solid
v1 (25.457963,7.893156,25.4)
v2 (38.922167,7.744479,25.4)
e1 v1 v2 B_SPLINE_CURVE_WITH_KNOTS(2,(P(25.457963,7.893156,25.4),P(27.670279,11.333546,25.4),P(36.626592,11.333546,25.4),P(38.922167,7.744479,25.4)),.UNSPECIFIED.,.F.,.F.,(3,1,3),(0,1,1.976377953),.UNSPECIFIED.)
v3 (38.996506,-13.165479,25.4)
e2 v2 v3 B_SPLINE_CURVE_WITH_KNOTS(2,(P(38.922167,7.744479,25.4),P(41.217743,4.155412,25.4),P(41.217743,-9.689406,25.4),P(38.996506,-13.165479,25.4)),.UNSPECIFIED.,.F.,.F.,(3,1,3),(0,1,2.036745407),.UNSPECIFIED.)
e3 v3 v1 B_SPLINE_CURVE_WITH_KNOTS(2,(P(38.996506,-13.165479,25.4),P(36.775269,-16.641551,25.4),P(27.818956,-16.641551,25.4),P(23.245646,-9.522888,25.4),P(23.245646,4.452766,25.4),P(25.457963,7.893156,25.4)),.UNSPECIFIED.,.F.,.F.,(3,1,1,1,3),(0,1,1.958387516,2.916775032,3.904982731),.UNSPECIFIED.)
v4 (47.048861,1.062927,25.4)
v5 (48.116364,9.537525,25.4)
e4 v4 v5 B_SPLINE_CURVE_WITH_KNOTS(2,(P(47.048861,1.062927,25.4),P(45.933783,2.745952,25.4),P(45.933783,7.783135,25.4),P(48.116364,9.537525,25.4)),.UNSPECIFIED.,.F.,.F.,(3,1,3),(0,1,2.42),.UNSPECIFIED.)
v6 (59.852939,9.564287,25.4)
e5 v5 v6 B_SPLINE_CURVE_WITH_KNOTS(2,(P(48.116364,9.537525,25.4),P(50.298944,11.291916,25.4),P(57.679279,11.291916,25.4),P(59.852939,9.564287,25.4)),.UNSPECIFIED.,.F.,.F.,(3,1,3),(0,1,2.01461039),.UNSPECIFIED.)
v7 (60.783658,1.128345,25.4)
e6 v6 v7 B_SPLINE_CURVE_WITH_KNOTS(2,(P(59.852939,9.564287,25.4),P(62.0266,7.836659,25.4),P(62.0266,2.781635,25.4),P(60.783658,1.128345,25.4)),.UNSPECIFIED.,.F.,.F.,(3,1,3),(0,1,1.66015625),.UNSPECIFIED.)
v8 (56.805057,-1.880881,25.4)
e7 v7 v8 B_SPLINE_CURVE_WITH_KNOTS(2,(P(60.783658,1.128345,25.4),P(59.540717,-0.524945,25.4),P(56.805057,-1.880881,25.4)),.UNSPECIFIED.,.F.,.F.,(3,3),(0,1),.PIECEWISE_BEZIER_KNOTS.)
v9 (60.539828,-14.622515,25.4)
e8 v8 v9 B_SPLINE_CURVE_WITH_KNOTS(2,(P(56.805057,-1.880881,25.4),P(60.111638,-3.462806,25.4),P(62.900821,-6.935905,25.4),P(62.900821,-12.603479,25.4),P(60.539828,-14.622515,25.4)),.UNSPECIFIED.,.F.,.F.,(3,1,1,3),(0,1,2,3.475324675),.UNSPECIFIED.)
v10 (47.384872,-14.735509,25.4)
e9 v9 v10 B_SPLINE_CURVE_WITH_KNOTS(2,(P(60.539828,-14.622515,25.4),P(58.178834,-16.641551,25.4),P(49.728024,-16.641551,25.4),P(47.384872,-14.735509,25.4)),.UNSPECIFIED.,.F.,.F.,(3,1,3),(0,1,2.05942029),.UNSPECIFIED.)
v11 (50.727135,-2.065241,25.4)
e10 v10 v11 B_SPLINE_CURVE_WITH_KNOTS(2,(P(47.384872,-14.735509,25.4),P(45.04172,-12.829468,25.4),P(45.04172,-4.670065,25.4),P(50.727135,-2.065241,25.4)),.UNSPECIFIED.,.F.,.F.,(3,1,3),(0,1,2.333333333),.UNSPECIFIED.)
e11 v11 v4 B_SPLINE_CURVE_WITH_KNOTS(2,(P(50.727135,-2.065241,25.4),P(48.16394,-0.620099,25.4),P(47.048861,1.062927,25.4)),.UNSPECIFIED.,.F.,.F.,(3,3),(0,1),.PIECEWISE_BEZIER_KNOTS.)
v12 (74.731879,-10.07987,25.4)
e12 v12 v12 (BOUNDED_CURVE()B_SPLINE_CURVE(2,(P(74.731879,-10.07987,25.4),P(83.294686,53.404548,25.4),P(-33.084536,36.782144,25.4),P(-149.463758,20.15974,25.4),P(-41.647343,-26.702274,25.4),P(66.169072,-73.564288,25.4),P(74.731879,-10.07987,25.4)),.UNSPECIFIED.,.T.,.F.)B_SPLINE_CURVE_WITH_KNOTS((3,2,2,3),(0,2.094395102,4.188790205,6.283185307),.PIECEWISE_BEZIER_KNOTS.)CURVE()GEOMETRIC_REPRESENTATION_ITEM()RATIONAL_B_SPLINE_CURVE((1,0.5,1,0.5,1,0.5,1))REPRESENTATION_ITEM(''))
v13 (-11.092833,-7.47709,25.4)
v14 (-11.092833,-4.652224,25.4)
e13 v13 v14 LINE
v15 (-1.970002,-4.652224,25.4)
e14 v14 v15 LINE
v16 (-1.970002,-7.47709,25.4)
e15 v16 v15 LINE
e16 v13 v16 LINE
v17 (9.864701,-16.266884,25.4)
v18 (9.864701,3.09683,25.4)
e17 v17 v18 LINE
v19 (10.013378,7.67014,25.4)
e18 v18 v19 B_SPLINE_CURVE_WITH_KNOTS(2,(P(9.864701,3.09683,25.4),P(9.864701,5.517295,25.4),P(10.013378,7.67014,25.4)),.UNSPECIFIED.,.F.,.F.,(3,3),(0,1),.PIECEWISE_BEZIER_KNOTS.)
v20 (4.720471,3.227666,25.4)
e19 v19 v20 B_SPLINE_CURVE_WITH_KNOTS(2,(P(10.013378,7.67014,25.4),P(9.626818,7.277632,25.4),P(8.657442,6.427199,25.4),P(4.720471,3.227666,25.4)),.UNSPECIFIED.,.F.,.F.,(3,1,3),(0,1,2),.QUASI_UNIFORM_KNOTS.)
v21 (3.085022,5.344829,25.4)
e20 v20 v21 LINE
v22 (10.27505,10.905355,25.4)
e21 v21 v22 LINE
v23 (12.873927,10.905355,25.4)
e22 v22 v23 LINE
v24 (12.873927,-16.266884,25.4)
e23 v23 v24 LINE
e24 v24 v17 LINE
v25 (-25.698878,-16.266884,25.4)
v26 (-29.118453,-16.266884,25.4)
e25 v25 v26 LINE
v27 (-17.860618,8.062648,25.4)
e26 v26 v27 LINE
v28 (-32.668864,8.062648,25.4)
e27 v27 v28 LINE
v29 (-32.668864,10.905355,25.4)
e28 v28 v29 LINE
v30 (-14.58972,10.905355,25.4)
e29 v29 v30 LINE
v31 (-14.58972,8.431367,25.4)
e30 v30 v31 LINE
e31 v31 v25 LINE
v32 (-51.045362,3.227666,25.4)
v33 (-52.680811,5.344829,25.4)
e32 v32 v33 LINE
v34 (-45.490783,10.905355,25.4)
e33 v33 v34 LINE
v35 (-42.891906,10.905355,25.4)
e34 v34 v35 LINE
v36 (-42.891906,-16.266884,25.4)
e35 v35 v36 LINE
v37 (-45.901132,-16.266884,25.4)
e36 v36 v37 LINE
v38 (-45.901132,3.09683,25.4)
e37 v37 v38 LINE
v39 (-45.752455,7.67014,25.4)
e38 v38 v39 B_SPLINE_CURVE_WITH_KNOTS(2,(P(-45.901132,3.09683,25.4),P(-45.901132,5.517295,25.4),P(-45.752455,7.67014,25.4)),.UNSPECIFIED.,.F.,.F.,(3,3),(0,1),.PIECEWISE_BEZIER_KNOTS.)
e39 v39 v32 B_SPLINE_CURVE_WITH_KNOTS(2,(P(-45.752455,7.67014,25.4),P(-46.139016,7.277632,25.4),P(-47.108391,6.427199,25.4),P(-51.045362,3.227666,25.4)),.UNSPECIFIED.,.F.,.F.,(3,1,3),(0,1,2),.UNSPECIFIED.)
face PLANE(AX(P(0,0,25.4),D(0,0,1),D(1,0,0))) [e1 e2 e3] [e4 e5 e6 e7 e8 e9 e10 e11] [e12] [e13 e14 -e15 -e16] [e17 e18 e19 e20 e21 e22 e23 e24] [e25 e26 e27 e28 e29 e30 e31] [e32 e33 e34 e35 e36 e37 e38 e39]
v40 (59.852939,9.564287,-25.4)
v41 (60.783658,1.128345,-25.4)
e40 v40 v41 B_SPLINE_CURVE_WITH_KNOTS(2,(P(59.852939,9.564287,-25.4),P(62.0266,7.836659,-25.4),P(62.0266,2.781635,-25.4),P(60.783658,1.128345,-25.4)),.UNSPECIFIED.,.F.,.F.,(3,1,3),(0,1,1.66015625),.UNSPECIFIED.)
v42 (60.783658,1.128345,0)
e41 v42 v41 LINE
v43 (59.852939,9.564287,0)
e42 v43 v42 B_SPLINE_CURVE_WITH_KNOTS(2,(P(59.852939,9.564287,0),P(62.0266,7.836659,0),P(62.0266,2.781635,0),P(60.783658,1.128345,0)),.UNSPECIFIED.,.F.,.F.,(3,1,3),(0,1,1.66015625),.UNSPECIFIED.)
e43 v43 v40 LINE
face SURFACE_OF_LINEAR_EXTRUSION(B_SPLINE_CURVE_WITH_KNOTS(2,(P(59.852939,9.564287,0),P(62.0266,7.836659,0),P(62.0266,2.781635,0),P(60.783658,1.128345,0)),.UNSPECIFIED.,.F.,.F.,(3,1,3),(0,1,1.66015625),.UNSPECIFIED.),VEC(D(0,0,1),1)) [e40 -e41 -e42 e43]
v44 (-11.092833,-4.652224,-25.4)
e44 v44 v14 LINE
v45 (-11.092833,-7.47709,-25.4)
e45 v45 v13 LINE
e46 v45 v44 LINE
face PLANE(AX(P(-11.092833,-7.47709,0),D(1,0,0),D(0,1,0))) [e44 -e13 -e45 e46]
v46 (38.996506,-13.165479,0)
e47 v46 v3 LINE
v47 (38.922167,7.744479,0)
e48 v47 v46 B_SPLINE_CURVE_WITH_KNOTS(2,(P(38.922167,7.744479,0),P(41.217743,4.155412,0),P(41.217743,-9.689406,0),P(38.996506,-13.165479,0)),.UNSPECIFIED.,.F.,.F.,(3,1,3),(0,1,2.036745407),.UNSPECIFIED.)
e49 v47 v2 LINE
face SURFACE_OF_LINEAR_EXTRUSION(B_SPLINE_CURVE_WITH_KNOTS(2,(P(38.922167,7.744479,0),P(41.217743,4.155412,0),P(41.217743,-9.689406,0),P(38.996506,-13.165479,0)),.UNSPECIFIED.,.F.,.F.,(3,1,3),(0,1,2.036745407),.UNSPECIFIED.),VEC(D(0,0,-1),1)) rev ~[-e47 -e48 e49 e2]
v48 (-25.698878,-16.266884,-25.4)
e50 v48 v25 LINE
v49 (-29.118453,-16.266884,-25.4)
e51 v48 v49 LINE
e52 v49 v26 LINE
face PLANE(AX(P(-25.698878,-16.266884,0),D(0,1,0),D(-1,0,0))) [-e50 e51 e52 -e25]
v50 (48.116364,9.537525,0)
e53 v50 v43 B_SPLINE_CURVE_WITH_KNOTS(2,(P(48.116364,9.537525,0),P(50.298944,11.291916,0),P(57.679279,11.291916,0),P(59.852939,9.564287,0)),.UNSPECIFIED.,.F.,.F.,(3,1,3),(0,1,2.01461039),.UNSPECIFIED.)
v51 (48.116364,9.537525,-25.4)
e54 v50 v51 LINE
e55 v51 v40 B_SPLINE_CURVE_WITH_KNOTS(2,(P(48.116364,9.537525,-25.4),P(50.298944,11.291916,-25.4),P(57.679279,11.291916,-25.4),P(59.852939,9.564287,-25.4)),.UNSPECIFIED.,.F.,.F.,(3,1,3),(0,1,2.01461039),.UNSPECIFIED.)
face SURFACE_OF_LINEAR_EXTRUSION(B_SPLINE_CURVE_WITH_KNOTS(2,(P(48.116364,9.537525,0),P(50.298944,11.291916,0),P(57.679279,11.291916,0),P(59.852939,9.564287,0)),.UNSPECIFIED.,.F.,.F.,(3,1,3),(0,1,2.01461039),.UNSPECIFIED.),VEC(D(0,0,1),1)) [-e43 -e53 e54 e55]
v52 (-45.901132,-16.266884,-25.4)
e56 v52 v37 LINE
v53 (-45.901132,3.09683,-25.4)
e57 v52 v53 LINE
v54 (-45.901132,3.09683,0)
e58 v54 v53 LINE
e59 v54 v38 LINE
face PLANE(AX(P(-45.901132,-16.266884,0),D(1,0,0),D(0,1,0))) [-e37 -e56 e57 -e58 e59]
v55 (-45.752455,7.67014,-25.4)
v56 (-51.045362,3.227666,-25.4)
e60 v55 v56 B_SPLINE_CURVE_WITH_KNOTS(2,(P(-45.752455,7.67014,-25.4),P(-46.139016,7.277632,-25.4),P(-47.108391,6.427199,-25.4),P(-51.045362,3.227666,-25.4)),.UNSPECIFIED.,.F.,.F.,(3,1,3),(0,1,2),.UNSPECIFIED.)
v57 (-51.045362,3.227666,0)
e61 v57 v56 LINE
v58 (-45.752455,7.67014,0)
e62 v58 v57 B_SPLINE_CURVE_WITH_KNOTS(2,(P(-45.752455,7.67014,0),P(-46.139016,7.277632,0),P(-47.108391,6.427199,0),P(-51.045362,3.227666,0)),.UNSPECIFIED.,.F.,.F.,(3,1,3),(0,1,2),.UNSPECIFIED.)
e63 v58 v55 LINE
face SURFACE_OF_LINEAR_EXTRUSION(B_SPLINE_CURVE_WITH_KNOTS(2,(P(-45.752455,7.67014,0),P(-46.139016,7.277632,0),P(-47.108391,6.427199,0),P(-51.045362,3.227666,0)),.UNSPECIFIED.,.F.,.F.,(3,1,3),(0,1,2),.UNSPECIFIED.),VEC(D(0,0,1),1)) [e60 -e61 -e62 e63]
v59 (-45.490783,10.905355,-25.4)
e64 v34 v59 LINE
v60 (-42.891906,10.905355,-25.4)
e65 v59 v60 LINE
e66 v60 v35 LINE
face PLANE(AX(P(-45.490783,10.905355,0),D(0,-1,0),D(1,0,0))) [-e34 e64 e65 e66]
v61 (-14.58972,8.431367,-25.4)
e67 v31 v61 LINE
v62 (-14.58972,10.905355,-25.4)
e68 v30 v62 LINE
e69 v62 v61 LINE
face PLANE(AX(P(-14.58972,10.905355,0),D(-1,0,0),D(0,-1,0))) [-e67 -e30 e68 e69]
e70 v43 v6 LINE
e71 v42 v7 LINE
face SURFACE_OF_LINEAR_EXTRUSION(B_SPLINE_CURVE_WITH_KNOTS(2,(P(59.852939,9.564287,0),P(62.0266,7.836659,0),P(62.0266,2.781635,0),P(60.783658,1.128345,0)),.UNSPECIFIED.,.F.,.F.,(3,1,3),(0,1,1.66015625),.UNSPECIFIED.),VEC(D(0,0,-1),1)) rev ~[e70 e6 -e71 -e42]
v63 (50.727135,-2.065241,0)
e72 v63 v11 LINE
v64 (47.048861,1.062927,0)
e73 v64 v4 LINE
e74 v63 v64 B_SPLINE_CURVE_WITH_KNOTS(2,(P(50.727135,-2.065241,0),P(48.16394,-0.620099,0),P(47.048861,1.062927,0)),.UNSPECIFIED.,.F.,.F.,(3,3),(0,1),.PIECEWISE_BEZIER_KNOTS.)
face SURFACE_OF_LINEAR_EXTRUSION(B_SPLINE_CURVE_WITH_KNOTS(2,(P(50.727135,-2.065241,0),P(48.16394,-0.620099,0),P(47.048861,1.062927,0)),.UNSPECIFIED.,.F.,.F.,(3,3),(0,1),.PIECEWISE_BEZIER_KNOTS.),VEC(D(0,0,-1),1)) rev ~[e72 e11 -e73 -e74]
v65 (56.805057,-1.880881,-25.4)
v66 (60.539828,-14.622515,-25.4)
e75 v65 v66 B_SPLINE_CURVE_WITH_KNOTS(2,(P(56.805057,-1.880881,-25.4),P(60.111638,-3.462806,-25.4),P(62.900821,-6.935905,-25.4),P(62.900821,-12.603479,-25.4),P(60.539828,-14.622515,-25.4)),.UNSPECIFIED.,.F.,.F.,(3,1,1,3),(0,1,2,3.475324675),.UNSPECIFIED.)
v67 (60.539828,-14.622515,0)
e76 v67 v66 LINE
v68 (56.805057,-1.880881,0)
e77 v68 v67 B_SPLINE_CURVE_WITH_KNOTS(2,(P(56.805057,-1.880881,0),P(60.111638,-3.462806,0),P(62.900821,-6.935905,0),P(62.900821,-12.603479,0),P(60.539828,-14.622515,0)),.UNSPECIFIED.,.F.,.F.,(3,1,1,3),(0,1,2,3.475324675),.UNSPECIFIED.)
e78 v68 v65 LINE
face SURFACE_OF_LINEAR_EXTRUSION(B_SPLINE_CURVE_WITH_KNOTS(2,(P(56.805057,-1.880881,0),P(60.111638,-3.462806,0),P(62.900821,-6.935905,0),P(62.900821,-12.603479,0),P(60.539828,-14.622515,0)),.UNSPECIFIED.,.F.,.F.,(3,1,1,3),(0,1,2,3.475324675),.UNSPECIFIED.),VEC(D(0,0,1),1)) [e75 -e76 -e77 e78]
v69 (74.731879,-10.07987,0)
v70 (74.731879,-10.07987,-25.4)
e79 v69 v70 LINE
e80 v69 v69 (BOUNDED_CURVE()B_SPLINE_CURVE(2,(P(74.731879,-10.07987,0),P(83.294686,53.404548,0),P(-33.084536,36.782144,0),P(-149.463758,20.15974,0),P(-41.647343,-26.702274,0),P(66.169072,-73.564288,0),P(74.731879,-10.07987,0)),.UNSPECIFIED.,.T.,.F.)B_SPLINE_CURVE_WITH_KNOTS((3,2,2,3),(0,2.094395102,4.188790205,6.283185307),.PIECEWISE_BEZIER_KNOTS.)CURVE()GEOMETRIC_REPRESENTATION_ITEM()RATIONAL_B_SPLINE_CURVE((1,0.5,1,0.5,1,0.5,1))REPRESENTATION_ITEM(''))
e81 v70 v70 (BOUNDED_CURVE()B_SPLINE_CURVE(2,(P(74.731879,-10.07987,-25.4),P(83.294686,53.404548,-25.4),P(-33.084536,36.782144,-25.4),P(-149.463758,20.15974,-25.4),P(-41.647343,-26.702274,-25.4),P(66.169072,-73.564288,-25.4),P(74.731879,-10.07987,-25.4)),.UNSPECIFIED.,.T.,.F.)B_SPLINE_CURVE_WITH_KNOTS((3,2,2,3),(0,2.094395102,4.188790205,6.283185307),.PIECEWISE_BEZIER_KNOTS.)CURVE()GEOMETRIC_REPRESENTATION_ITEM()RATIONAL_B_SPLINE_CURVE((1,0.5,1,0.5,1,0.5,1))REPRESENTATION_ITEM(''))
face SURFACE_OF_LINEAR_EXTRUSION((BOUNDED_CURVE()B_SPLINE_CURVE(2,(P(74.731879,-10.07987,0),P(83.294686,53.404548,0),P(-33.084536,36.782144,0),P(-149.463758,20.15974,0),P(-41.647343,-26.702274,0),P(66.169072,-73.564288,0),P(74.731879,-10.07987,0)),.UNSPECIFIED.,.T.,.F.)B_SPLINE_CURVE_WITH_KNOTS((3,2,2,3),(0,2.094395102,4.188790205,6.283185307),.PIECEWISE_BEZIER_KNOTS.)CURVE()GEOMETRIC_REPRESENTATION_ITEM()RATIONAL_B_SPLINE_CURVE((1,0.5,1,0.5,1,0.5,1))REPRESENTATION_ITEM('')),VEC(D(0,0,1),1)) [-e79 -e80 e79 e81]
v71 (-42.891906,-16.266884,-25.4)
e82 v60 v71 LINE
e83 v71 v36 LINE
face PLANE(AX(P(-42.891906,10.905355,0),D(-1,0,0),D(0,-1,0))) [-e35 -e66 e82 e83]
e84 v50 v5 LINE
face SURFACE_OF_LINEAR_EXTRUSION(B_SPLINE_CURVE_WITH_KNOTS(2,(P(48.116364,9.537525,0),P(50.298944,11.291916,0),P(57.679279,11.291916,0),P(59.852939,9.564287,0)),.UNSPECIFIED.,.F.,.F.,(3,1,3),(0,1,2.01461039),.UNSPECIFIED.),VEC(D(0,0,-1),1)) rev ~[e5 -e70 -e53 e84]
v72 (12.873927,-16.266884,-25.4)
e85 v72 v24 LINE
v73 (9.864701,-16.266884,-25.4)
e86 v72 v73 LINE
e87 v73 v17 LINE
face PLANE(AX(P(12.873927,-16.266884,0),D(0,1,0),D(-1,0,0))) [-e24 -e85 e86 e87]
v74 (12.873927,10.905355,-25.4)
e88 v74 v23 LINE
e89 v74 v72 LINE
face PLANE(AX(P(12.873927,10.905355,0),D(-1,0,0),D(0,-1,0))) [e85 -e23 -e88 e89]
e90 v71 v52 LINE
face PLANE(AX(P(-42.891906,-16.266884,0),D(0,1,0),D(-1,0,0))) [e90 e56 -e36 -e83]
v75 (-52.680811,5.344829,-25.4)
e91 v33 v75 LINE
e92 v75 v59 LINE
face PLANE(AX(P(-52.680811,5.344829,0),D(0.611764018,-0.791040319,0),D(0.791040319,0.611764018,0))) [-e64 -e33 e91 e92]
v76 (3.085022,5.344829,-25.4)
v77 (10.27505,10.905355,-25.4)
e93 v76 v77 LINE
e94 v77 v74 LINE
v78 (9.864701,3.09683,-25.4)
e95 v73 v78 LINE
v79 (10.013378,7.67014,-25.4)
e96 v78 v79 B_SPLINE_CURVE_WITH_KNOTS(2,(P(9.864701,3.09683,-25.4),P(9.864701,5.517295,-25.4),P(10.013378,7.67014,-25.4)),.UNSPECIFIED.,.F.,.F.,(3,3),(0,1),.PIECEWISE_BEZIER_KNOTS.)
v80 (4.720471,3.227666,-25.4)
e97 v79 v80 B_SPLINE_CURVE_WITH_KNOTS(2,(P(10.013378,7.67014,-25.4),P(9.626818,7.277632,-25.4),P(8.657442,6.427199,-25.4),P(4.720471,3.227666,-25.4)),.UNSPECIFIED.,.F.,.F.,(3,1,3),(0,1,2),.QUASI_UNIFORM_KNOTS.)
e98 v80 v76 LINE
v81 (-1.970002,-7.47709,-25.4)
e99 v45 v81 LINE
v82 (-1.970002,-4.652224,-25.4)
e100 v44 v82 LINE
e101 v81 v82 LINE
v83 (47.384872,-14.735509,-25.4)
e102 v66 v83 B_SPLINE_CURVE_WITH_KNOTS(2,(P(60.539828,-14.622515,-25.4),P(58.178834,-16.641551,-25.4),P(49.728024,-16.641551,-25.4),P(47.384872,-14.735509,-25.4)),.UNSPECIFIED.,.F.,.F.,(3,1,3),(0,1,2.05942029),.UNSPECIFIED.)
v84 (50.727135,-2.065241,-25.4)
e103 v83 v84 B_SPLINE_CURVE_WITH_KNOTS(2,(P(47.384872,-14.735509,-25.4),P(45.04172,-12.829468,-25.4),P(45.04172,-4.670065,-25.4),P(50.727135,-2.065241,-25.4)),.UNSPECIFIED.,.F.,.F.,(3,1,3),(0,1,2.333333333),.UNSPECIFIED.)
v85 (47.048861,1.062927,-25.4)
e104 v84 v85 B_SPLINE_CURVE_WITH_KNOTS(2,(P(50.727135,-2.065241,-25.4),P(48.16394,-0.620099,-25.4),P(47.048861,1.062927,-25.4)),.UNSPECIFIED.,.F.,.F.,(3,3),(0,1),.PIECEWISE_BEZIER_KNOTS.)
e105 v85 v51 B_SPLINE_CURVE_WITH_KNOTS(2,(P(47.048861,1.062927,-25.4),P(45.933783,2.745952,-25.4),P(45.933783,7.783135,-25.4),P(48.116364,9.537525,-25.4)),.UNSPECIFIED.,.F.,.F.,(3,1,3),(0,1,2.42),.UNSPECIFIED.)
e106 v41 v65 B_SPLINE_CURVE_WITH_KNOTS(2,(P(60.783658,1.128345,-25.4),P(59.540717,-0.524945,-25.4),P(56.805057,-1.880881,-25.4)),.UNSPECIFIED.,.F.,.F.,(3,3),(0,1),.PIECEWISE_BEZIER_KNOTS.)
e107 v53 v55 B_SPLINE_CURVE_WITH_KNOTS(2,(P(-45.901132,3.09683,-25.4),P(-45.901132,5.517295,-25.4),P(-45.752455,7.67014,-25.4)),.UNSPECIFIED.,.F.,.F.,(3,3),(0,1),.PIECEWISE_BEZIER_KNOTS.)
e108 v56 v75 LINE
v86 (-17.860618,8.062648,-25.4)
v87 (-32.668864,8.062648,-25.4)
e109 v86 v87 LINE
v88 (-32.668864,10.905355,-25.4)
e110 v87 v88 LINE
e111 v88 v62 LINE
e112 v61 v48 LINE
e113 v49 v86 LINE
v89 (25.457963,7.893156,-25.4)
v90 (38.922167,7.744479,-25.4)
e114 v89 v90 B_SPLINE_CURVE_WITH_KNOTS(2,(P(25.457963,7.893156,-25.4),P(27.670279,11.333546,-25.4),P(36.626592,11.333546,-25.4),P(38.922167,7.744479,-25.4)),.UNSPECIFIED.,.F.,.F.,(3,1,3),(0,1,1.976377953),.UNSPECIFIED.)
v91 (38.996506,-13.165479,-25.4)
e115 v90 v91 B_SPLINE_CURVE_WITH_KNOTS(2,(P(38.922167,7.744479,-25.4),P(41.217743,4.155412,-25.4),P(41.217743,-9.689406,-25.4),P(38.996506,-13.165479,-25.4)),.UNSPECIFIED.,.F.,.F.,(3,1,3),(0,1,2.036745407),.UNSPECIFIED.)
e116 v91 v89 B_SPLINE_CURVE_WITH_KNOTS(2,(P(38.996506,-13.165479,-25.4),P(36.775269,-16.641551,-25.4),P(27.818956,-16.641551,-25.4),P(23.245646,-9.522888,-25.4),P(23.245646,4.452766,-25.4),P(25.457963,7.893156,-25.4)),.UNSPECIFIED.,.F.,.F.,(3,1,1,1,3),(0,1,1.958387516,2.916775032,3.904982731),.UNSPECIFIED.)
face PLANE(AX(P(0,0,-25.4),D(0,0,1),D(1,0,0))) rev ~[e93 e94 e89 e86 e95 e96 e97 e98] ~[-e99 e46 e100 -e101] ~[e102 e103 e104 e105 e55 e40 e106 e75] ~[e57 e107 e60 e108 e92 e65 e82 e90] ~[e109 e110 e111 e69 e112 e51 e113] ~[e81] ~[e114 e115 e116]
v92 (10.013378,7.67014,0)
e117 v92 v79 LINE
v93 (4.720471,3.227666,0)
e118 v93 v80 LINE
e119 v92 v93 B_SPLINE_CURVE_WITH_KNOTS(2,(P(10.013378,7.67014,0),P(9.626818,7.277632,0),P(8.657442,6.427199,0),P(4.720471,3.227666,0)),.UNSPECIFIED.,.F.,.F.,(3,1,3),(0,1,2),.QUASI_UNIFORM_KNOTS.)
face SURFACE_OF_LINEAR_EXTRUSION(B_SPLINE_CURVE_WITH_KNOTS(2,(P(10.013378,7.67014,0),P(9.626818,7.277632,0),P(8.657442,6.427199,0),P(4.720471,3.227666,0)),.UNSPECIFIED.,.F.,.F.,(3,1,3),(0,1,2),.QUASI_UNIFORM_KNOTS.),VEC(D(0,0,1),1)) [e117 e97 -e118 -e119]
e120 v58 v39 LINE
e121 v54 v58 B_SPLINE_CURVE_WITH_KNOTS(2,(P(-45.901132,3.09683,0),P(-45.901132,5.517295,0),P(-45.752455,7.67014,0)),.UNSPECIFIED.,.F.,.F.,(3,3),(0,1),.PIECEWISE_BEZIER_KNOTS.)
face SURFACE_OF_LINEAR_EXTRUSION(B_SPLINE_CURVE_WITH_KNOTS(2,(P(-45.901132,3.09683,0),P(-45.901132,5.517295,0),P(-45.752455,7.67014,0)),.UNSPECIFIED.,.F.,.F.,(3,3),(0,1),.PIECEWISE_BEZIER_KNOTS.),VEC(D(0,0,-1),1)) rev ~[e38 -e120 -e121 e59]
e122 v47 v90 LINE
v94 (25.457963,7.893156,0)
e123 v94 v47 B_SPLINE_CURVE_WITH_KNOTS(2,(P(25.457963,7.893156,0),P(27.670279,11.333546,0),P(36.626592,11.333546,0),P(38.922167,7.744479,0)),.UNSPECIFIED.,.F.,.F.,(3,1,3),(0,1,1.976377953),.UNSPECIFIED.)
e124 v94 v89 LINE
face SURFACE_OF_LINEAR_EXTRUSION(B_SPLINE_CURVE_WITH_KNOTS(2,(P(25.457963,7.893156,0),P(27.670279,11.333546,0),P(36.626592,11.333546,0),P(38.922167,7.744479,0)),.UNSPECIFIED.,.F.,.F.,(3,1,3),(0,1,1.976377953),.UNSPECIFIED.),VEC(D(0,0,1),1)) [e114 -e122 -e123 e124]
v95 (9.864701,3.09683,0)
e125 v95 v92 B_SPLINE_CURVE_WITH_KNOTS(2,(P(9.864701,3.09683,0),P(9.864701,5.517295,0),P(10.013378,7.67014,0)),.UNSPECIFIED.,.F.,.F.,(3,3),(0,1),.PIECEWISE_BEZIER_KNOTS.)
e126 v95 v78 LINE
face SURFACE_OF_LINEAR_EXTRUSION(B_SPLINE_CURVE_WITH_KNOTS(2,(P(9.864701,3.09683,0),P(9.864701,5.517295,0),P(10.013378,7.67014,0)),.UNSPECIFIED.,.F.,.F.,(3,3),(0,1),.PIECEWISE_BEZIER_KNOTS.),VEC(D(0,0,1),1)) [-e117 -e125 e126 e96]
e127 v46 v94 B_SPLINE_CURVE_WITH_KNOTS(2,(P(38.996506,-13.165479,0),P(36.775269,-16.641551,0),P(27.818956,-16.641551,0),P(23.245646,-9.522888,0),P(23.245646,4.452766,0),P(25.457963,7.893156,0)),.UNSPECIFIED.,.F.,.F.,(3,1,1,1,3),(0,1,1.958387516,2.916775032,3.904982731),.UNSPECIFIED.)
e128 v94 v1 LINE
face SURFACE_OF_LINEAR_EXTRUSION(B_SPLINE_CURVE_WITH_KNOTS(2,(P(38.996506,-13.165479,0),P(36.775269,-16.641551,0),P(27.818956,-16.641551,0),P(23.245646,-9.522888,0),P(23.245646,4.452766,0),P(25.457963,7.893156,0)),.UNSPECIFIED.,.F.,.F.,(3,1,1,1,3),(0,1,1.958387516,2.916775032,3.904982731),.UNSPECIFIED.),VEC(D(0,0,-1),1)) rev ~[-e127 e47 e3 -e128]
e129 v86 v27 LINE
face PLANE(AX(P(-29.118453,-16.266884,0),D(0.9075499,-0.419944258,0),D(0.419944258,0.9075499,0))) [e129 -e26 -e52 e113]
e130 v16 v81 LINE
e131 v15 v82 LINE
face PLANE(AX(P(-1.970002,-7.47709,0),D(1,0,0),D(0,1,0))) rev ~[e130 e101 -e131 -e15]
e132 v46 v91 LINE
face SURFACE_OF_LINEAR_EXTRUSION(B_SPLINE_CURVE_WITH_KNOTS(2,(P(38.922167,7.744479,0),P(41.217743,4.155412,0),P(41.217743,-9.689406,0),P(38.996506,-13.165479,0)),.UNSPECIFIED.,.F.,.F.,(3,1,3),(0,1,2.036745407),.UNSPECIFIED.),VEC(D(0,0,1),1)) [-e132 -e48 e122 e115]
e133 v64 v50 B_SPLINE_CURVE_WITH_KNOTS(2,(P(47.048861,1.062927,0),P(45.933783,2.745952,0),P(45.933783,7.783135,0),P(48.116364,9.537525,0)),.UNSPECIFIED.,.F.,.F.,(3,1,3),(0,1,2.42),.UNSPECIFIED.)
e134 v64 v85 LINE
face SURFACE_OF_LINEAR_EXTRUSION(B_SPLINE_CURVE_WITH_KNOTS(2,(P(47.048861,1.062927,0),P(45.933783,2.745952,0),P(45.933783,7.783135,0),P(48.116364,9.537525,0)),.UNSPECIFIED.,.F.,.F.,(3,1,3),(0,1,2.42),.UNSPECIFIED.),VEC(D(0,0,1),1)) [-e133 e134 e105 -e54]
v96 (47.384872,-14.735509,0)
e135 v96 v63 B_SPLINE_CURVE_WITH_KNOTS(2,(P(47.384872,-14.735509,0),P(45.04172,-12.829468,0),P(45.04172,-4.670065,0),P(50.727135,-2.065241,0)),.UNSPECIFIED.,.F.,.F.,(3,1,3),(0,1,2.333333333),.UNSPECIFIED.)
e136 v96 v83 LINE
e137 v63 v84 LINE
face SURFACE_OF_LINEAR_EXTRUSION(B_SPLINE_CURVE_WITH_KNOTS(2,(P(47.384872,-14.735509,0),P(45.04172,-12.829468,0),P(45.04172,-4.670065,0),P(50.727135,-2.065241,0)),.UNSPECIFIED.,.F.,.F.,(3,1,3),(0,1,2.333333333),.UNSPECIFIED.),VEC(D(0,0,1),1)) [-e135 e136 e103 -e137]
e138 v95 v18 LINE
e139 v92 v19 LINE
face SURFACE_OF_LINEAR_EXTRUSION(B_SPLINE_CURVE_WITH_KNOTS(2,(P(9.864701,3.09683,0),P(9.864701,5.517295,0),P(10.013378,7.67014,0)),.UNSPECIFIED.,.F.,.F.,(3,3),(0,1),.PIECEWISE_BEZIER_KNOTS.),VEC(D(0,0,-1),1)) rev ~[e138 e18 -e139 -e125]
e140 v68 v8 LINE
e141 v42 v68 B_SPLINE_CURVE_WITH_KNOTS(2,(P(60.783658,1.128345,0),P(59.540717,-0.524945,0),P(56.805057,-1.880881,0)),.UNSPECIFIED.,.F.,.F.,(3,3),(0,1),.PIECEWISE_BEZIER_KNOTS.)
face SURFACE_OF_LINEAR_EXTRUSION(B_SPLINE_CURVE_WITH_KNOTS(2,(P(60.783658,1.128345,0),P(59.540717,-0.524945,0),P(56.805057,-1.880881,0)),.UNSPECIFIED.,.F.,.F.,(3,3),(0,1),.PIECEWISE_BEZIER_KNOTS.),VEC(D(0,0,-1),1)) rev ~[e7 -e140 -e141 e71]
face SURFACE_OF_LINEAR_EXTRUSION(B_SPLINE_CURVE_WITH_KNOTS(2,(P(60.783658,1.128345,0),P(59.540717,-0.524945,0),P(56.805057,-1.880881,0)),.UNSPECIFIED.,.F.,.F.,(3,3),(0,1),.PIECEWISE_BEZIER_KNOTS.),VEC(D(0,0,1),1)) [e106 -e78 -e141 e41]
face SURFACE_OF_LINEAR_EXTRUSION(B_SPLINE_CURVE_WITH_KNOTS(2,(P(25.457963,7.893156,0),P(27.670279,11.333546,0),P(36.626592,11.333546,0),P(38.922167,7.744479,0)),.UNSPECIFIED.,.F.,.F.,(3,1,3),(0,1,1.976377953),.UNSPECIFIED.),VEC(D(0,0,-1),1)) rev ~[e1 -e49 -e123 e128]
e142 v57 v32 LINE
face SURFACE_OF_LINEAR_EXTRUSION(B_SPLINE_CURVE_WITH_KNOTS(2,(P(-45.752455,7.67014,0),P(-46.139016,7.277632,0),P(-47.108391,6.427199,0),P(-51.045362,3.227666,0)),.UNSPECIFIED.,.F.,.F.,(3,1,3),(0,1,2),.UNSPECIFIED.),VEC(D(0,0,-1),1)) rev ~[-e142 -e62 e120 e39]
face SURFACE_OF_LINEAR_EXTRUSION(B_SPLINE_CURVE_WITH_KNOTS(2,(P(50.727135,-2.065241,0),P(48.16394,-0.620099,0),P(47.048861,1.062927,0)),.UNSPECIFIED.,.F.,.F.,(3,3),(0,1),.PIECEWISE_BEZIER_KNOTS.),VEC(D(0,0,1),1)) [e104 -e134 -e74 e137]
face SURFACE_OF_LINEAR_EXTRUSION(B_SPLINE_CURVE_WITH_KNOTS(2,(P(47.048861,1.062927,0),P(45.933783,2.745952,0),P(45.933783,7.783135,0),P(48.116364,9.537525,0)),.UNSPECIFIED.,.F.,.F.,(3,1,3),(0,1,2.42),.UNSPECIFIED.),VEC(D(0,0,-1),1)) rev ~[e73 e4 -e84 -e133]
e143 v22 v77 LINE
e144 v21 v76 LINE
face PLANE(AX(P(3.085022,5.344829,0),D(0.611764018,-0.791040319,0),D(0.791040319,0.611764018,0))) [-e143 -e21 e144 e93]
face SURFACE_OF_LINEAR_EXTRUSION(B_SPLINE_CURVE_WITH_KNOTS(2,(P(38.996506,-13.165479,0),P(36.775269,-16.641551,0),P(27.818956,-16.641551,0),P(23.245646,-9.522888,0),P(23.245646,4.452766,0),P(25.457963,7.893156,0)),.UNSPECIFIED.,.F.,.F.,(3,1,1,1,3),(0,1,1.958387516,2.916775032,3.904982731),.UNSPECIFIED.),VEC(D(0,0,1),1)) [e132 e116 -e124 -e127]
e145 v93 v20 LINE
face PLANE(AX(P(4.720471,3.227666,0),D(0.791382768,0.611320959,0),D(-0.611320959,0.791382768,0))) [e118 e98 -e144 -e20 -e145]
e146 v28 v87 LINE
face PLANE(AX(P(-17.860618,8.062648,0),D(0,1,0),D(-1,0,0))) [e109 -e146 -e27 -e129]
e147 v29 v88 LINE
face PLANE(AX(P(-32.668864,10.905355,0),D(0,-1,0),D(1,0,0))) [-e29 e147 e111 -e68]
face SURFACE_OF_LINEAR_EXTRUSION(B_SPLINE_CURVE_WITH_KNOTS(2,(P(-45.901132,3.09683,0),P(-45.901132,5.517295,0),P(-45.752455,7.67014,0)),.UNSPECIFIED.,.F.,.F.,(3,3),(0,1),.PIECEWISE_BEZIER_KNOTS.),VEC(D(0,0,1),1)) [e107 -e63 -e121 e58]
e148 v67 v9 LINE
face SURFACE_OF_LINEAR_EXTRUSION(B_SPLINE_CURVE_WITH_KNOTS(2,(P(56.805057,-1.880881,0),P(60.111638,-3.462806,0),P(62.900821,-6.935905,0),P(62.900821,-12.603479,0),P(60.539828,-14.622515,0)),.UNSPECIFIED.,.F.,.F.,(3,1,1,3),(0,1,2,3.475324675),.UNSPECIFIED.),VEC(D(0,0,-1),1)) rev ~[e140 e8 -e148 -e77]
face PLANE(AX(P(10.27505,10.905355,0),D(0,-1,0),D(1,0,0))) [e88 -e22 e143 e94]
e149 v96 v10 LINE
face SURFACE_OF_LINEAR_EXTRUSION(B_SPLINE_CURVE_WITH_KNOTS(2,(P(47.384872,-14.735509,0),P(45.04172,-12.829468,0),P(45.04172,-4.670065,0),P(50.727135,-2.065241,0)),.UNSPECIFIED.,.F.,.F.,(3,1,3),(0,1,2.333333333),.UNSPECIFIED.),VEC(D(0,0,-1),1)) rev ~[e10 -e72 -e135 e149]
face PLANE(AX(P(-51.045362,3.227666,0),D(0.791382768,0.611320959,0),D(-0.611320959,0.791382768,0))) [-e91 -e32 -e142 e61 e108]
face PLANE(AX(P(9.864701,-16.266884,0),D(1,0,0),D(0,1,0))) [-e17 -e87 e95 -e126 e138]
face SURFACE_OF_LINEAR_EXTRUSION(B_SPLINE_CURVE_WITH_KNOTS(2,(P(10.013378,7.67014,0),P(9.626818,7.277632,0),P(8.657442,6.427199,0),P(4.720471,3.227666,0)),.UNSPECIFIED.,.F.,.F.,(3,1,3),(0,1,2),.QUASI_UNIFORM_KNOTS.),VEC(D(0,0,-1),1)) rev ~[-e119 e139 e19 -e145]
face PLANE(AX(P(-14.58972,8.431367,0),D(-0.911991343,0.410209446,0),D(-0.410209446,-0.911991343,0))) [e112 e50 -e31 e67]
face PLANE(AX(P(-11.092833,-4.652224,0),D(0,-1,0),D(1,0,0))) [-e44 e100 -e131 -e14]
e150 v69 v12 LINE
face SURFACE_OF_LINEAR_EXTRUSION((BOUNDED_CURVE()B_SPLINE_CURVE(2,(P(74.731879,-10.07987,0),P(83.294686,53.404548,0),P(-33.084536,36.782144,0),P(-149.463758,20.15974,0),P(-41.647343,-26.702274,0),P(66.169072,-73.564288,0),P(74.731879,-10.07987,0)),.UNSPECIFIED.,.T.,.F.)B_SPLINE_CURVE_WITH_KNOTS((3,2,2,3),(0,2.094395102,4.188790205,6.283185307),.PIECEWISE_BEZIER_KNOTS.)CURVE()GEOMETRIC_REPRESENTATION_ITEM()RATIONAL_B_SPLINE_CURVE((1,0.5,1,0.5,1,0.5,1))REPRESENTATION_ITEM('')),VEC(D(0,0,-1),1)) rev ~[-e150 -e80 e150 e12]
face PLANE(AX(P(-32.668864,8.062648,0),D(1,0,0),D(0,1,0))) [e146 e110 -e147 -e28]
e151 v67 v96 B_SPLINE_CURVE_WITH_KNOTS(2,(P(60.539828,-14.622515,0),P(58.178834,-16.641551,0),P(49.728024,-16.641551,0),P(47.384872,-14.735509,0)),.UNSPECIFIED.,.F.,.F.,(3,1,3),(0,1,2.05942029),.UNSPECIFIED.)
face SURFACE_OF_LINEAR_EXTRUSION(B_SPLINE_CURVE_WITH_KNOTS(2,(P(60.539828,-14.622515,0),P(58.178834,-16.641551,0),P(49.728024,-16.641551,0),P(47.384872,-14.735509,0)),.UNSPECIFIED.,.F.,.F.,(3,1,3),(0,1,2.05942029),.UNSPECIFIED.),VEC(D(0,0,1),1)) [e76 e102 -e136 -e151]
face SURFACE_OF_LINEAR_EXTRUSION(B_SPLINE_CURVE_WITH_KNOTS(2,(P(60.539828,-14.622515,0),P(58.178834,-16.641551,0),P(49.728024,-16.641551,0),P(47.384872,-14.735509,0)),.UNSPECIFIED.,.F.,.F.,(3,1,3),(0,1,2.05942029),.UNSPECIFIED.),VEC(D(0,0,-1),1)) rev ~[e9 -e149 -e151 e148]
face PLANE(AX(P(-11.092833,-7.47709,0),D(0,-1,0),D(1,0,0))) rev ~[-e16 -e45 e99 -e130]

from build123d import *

# Parameters (mm, degrees)
F0_W     = 9.1228311835
F0_H     = 2.82486624
F1_DEPTH = 25.4
F2_DEPTH = 25.4


with BuildPart() as f1:
    # F0 (on Top) → F1 (new body)
    with BuildSketch(Plane.XY):
        with BuildLine():
            add(Edge.make_bspline(
                [(74.7318789363, -10.0798700005), (83.2946862979, 53.4045482582), (-33.0845357873, 36.7821441296), (-149.4637578726, 20.159740001), (-41.647343149, -26.7022741291), (66.1690715747, -73.5642882592), (74.7318789363, -10.0798700005)],
                knots=[0, 0, 0, 2.0943951024, 2.0943951024, 4.1887902048, 4.1887902048, 6.2831853072, 6.2831853072, 6.2831853072], degree=2, weights=[1, 0.5, 1, 0.5, 1, 0.5, 1]))
        make_face()
        with BuildLine():
            Line((-42.8919061176, 10.905355403), (-42.8919061176, -16.2668842822))
            Line((-42.8919061176, -16.2668842822), (-45.901132049, -16.2668842822))
            Line((-45.901132049, -16.2668842822), (-45.901132049, 3.096830407))
            add(Edge.make_bspline(
                [(-45.901132049, 3.096830407), (-45.901132049, 5.5172947432), (-45.7524548785, 7.6701401724)],
                knots=[0, 0, 0, 1, 1, 1], degree=2))
            add(Edge.make_bspline(
                [(-45.7524548785, 7.6701401724), (-46.1390155219, 7.2776324422), (-46.6237030978, 6.8524157345)],
                knots=[0, 0, 0, 1, 1, 1], degree=2))
            add(Edge.make_bspline(
                [(-46.6237030978, 6.8524157345), (-47.1083906737, 6.4271990268), (-51.0453621492, 3.2276663171)],
                knots=[0, 0, 0, 1, 1, 1], degree=2))
            Line((-51.0453621492, 3.2276663171), (-52.680811025, 5.3448292254))
            Line((-52.680811025, 5.3448292254), (-45.4907830584, 10.905355403))
            Line((-45.4907830584, 10.905355403), (-42.8919061176, 10.905355403))
        make_face(mode=Mode.SUBTRACT)
        Polygon((-25.698878118, -16.2668842822), (-29.1184530401, -16.2668842822), (-17.8606176879, 8.0626479026), (-32.6688638723, 8.0626479026), (-32.6688638723, 10.905355403), (-14.5897199363, 10.905355403), (-14.5897199363, 8.4313672855), align=None, mode=Mode.SUBTRACT)
        with Locations((-6.5314172938, -6.0646568408)):
            Rectangle(F0_W, F0_H, mode=Mode.SUBTRACT)
        with BuildLine():
            Line((12.8739270032, 10.905355403), (12.8739270032, -16.2668842822))
            Line((12.8739270032, -16.2668842822), (9.8647010717, -16.2668842822))
            Line((9.8647010717, -16.2668842822), (9.8647010717, 3.096830407))
            add(Edge.make_bspline(
                [(9.8647010717, 3.096830407), (9.8647010717, 5.5172947432), (10.0133782422, 7.6701401724)],
                knots=[0, 0, 0, 1, 1, 1], degree=2))
            add(Edge.make_bspline(
                [(10.0133782422, 7.6701401724), (9.6268175989, 7.2776324422), (9.142130023, 6.8524157345)],
                knots=[0, 0, 0, 1, 1, 1], degree=2))
            add(Edge.make_bspline(
                [(9.142130023, 6.8524157345), (8.6574424471, 6.4271990268), (4.7204709715, 3.2276663171)],
                knots=[0, 0, 0, 1, 1, 1], degree=2))
            Line((4.7204709715, 3.2276663171), (3.0850220957, 5.3448292254))
            Line((3.0850220957, 5.3448292254), (10.2750500624, 10.905355403))
            Line((10.2750500624, 10.905355403), (12.8739270032, 10.905355403))
        make_face(mode=Mode.SUBTRACT)
        with BuildLine():
            add(Edge.make_bspline(
                [(38.9221672792, 7.7444787577), (41.2177427922, 4.1554118612), (41.2177427922, -2.6421083753)],
                knots=[0, 0, 0, 1, 1, 1], degree=2))
            add(Edge.make_bspline(
                [(41.2177427922, -2.6421083753), (41.2177427922, -9.6894062582), (38.9965058645, -13.1654785051)],
                knots=[0, 0, 0, 1, 1, 1], degree=2))
            add(Edge.make_bspline(
                [(38.9965058645, -13.1654785051), (36.7752689369, -16.641550752), (32.2019591715, -16.641550752)],
                knots=[0, 0, 0, 1, 1, 1], degree=2))
            add(Edge.make_bspline(
                [(32.2019591715, -16.641550752), (27.8189561844, -16.641550752), (25.5323013017, -13.0822192896)],
                knots=[0, 0, 0, 1, 1, 1], degree=2))
            add(Edge.make_bspline(
                [(25.5323013017, -13.0822192896), (23.245646419, -9.5228878272), (23.245646419, -2.6421083753)],
                knots=[0, 0, 0, 1, 1, 1], degree=2))
            add(Edge.make_bspline(
                [(23.245646419, -2.6421083753), (23.245646419, 4.4527662022), (25.4579627164, 7.8931559282)],
                knots=[0, 0, 0, 1, 1, 1], degree=2))
            add(Edge.make_bspline(
                [(25.4579627164, 7.8931559282), (27.6702790139, 11.3335456541), (32.2019591715, 11.3335456541)],
                knots=[0, 0, 0, 1, 1, 1], degree=2))
            add(Edge.make_bspline(
                [(32.2019591715, 11.3335456541), (36.6265917663, 11.3335456541), (38.9221672792, 7.7444787577)],
                knots=[0, 0, 0, 1, 1, 1], degree=2))
        make_face(mode=Mode.SUBTRACT)
        with BuildLine():
            add(Edge.make_bspline(
                [(48.1163635046, 9.5375254342), (50.2989443679, 11.2919160464), (53.9623498496, 11.2919160464)],
                knots=[0, 0, 0, 1, 1, 1], degree=2))
            add(Edge.make_bspline(
                [(53.9623498496, 11.2919160464), (57.6792791128, 11.2919160464), (59.8529393458, 9.5642873249)],
                knots=[0, 0, 0, 1, 1, 1], degree=2))
            add(Edge.make_bspline(
                [(59.8529393458, 9.5642873249), (62.0265995789, 7.8366586034), (62.0265995789, 4.791750151)],
                knots=[0, 0, 0, 1, 1, 1], degree=2))
            add(Edge.make_bspline(
                [(62.0265995789, 4.791750151), (62.0265995789, 2.7816348055), (60.7836584333, 1.1283446693)],
                knots=[0, 0, 0, 1, 1, 1], degree=2))
            add(Edge.make_bspline(
                [(60.7836584333, 1.1283446693), (59.5407172877, -0.524945467), (56.8050573501, -1.8808812622)],
                knots=[0, 0, 0, 1, 1, 1], degree=2))
            add(Edge.make_bspline(
                [(56.8050573501, -1.8808812622), (60.1116376226, -3.4628063566), (61.5062294821, -5.1993557083)],
                knots=[0, 0, 0, 1, 1, 1], degree=2))
            add(Edge.make_bspline(
                [(61.5062294821, -5.1993557083), (62.9008213416, -6.93590506), (62.9008213416, -9.2255334861)],
                knots=[0, 0, 0, 1, 1, 1], degree=2))
            add(Edge.make_bspline(
                [(62.9008213416, -9.2255334861), (62.9008213416, -12.6034788005), (60.5398278737, -14.6225147762)],
                knots=[0, 0, 0, 1, 1, 1], degree=2))
            add(Edge.make_bspline(
                [(60.5398278737, -14.6225147762), (58.1788344057, -16.641550752), (54.0753444992, -16.641550752)],
                knots=[0, 0, 0, 1, 1, 1], degree=2))
            add(Edge.make_bspline(
                [(54.0753444992, -16.641550752), (49.7280240331, -16.641550752), (47.3848718256, -14.7355094258)],
                knots=[0, 0, 0, 1, 1, 1], degree=2))
            add(Edge.make_bspline(
                [(47.3848718256, -14.7355094258), (45.0417196181, -12.8294680997), (45.0417196181, -9.3325810489)],
                knots=[0, 0, 0, 1, 1, 1], degree=2))
            add(Edge.make_bspline(
                [(45.0417196181, -9.3325810489), (45.0417196181, -4.6700649812), (50.727134619, -2.0652409536)],
                knots=[0, 0, 0, 1, 1, 1], degree=2))
            add(Edge.make_bspline(
                [(50.727134619, -2.0652409536), (48.1639401991, -0.6200988561), (47.0488614202, 1.0629267142)],
                knots=[0, 0, 0, 1, 1, 1], degree=2))
            add(Edge.make_bspline(
                [(47.0488614202, 1.0629267142), (45.9337826412, 2.7459522846), (45.9337826412, 4.8274326719)],
                knots=[0, 0, 0, 1, 1, 1], degree=2))
            add(Edge.make_bspline(
                [(45.9337826412, 4.8274326719), (45.9337826412, 7.783134822), (48.1163635046, 9.5375254342)],
                knots=[0, 0, 0, 1, 1, 1], degree=2))
        make_face(mode=Mode.SUBTRACT)
    extrude(amount=F1_DEPTH)

    # F0 (on Top) → F2 (join)
    with BuildSketch(Plane.XY):
        with BuildLine():
            add(Edge.make_bspline(
                [(74.7318789363, -10.0798700005), (83.2946862979, 53.4045482582), (-33.0845357873, 36.7821441296), (-149.4637578726, 20.159740001), (-41.647343149, -26.7022741291), (66.1690715747, -73.5642882592), (74.7318789363, -10.0798700005)],
                knots=[0, 0, 0, 2.0943951024, 2.0943951024, 4.1887902048, 4.1887902048, 6.2831853072, 6.2831853072, 6.2831853072], degree=2, weights=[1, 0.5, 1, 0.5, 1, 0.5, 1]))
        make_face()
        with BuildLine():
            Line((-42.8919061176, 10.905355403), (-42.8919061176, -16.2668842822))
            Line((-42.8919061176, -16.2668842822), (-45.901132049, -16.2668842822))
            Line((-45.901132049, -16.2668842822), (-45.901132049, 3.096830407))
            add(Edge.make_bspline(
                [(-45.901132049, 3.096830407), (-45.901132049, 5.5172947432), (-45.7524548785, 7.6701401724)],
                knots=[0, 0, 0, 1, 1, 1], degree=2))
            add(Edge.make_bspline(
                [(-45.7524548785, 7.6701401724), (-46.1390155219, 7.2776324422), (-46.6237030978, 6.8524157345)],
                knots=[0, 0, 0, 1, 1, 1], degree=2))
            add(Edge.make_bspline(
                [(-46.6237030978, 6.8524157345), (-47.1083906737, 6.4271990268), (-51.0453621492, 3.2276663171)],
                knots=[0, 0, 0, 1, 1, 1], degree=2))
            Line((-51.0453621492, 3.2276663171), (-52.680811025, 5.3448292254))
            Line((-52.680811025, 5.3448292254), (-45.4907830584, 10.905355403))
            Line((-45.4907830584, 10.905355403), (-42.8919061176, 10.905355403))
        make_face(mode=Mode.SUBTRACT)
        Polygon((-25.698878118, -16.2668842822), (-29.1184530401, -16.2668842822), (-17.8606176879, 8.0626479026), (-32.6688638723, 8.0626479026), (-32.6688638723, 10.905355403), (-14.5897199363, 10.905355403), (-14.5897199363, 8.4313672855), align=None, mode=Mode.SUBTRACT)
        with Locations((-6.5314172938, -6.0646568408)):
            Rectangle(F0_W, F0_H, mode=Mode.SUBTRACT)
        with BuildLine():
            Line((12.8739270032, 10.905355403), (12.8739270032, -16.2668842822))
            Line((12.8739270032, -16.2668842822), (9.8647010717, -16.2668842822))
            Line((9.8647010717, -16.2668842822), (9.8647010717, 3.096830407))
            add(Edge.make_bspline(
                [(9.8647010717, 3.096830407), (9.8647010717, 5.5172947432), (10.0133782422, 7.6701401724)],
                knots=[0, 0, 0, 1, 1, 1], degree=2))
            add(Edge.make_bspline(
                [(10.0133782422, 7.6701401724), (9.6268175989, 7.2776324422), (9.142130023, 6.8524157345)],
                knots=[0, 0, 0, 1, 1, 1], degree=2))
            add(Edge.make_bspline(
                [(9.142130023, 6.8524157345), (8.6574424471, 6.4271990268), (4.7204709715, 3.2276663171)],
                knots=[0, 0, 0, 1, 1, 1], degree=2))
            Line((4.7204709715, 3.2276663171), (3.0850220957, 5.3448292254))
            Line((3.0850220957, 5.3448292254), (10.2750500624, 10.905355403))
            Line((10.2750500624, 10.905355403), (12.8739270032, 10.905355403))
        make_face(mode=Mode.SUBTRACT)
        with BuildLine():
            add(Edge.make_bspline(
                [(38.9221672792, 7.7444787577), (41.2177427922, 4.1554118612), (41.2177427922, -2.6421083753)],
                knots=[0, 0, 0, 1, 1, 1], degree=2))
            add(Edge.make_bspline(
                [(41.2177427922, -2.6421083753), (41.2177427922, -9.6894062582), (38.9965058645, -13.1654785051)],
                knots=[0, 0, 0, 1, 1, 1], degree=2))
            add(Edge.make_bspline(
                [(38.9965058645, -13.1654785051), (36.7752689369, -16.641550752), (32.2019591715, -16.641550752)],
                knots=[0, 0, 0, 1, 1, 1], degree=2))
            add(Edge.make_bspline(
                [(32.2019591715, -16.641550752), (27.8189561844, -16.641550752), (25.5323013017, -13.0822192896)],
                knots=[0, 0, 0, 1, 1, 1], degree=2))
            add(Edge.make_bspline(
                [(25.5323013017, -13.0822192896), (23.245646419, -9.5228878272), (23.245646419, -2.6421083753)],
                knots=[0, 0, 0, 1, 1, 1], degree=2))
            add(Edge.make_bspline(
                [(23.245646419, -2.6421083753), (23.245646419, 4.4527662022), (25.4579627164, 7.8931559282)],
                knots=[0, 0, 0, 1, 1, 1], degree=2))
            add(Edge.make_bspline(
                [(25.4579627164, 7.8931559282), (27.6702790139, 11.3335456541), (32.2019591715, 11.3335456541)],
                knots=[0, 0, 0, 1, 1, 1], degree=2))
            add(Edge.make_bspline(
                [(32.2019591715, 11.3335456541), (36.6265917663, 11.3335456541), (38.9221672792, 7.7444787577)],
                knots=[0, 0, 0, 1, 1, 1], degree=2))
        make_face(mode=Mode.SUBTRACT)
        with BuildLine():
            add(Edge.make_bspline(
                [(48.1163635046, 9.5375254342), (50.2989443679, 11.2919160464), (53.9623498496, 11.2919160464)],
                knots=[0, 0, 0, 1, 1, 1], degree=2))
            add(Edge.make_bspline(
                [(53.9623498496, 11.2919160464), (57.6792791128, 11.2919160464), (59.8529393458, 9.5642873249)],
                knots=[0, 0, 0, 1, 1, 1], degree=2))
            add(Edge.make_bspline(
                [(59.8529393458, 9.5642873249), (62.0265995789, 7.8366586034), (62.0265995789, 4.791750151)],
                knots=[0, 0, 0, 1, 1, 1], degree=2))
            add(Edge.make_bspline(
                [(62.0265995789, 4.791750151), (62.0265995789, 2.7816348055), (60.7836584333, 1.1283446693)],
                knots=[0, 0, 0, 1, 1, 1], degree=2))
            add(Edge.make_bspline(
                [(60.7836584333, 1.1283446693), (59.5407172877, -0.524945467), (56.8050573501, -1.8808812622)],
                knots=[0, 0, 0, 1, 1, 1], degree=2))
            add(Edge.make_bspline(
                [(56.8050573501, -1.8808812622), (60.1116376226, -3.4628063566), (61.5062294821, -5.1993557083)],
                knots=[0, 0, 0, 1, 1, 1], degree=2))
            add(Edge.make_bspline(
                [(61.5062294821, -5.1993557083), (62.9008213416, -6.93590506), (62.9008213416, -9.2255334861)],
                knots=[0, 0, 0, 1, 1, 1], degree=2))
            add(Edge.make_bspline(
                [(62.9008213416, -9.2255334861), (62.9008213416, -12.6034788005), (60.5398278737, -14.6225147762)],
                knots=[0, 0, 0, 1, 1, 1], degree=2))
            add(Edge.make_bspline(
                [(60.5398278737, -14.6225147762), (58.1788344057, -16.641550752), (54.0753444992, -16.641550752)],
                knots=[0, 0, 0, 1, 1, 1], degree=2))
            add(Edge.make_bspline(
                [(54.0753444992, -16.641550752), (49.7280240331, -16.641550752), (47.3848718256, -14.7355094258)],
                knots=[0, 0, 0, 1, 1, 1], degree=2))
            add(Edge.make_bspline(
                [(47.3848718256, -14.7355094258), (45.0417196181, -12.8294680997), (45.0417196181, -9.3325810489)],
                knots=[0, 0, 0, 1, 1, 1], degree=2))
            add(Edge.make_bspline(
                [(45.0417196181, -9.3325810489), (45.0417196181, -4.6700649812), (50.727134619, -2.0652409536)],
                knots=[0, 0, 0, 1, 1, 1], degree=2))
            add(Edge.make_bspline(
                [(50.727134619, -2.0652409536), (48.1639401991, -0.6200988561), (47.0488614202, 1.0629267142)],
                knots=[0, 0, 0, 1, 1, 1], degree=2))
            add(Edge.make_bspline(
                [(47.0488614202, 1.0629267142), (45.9337826412, 2.7459522846), (45.9337826412, 4.8274326719)],
                knots=[0, 0, 0, 1, 1, 1], degree=2))
            add(Edge.make_bspline(
                [(45.9337826412, 4.8274326719), (45.9337826412, 7.783134822), (48.1163635046, 9.5375254342)],
                knots=[0, 0, 0, 1, 1, 1], degree=2))
        make_face(mode=Mode.SUBTRACT)
    extrude(amount=-F2_DEPTH)


solid = f1.part
